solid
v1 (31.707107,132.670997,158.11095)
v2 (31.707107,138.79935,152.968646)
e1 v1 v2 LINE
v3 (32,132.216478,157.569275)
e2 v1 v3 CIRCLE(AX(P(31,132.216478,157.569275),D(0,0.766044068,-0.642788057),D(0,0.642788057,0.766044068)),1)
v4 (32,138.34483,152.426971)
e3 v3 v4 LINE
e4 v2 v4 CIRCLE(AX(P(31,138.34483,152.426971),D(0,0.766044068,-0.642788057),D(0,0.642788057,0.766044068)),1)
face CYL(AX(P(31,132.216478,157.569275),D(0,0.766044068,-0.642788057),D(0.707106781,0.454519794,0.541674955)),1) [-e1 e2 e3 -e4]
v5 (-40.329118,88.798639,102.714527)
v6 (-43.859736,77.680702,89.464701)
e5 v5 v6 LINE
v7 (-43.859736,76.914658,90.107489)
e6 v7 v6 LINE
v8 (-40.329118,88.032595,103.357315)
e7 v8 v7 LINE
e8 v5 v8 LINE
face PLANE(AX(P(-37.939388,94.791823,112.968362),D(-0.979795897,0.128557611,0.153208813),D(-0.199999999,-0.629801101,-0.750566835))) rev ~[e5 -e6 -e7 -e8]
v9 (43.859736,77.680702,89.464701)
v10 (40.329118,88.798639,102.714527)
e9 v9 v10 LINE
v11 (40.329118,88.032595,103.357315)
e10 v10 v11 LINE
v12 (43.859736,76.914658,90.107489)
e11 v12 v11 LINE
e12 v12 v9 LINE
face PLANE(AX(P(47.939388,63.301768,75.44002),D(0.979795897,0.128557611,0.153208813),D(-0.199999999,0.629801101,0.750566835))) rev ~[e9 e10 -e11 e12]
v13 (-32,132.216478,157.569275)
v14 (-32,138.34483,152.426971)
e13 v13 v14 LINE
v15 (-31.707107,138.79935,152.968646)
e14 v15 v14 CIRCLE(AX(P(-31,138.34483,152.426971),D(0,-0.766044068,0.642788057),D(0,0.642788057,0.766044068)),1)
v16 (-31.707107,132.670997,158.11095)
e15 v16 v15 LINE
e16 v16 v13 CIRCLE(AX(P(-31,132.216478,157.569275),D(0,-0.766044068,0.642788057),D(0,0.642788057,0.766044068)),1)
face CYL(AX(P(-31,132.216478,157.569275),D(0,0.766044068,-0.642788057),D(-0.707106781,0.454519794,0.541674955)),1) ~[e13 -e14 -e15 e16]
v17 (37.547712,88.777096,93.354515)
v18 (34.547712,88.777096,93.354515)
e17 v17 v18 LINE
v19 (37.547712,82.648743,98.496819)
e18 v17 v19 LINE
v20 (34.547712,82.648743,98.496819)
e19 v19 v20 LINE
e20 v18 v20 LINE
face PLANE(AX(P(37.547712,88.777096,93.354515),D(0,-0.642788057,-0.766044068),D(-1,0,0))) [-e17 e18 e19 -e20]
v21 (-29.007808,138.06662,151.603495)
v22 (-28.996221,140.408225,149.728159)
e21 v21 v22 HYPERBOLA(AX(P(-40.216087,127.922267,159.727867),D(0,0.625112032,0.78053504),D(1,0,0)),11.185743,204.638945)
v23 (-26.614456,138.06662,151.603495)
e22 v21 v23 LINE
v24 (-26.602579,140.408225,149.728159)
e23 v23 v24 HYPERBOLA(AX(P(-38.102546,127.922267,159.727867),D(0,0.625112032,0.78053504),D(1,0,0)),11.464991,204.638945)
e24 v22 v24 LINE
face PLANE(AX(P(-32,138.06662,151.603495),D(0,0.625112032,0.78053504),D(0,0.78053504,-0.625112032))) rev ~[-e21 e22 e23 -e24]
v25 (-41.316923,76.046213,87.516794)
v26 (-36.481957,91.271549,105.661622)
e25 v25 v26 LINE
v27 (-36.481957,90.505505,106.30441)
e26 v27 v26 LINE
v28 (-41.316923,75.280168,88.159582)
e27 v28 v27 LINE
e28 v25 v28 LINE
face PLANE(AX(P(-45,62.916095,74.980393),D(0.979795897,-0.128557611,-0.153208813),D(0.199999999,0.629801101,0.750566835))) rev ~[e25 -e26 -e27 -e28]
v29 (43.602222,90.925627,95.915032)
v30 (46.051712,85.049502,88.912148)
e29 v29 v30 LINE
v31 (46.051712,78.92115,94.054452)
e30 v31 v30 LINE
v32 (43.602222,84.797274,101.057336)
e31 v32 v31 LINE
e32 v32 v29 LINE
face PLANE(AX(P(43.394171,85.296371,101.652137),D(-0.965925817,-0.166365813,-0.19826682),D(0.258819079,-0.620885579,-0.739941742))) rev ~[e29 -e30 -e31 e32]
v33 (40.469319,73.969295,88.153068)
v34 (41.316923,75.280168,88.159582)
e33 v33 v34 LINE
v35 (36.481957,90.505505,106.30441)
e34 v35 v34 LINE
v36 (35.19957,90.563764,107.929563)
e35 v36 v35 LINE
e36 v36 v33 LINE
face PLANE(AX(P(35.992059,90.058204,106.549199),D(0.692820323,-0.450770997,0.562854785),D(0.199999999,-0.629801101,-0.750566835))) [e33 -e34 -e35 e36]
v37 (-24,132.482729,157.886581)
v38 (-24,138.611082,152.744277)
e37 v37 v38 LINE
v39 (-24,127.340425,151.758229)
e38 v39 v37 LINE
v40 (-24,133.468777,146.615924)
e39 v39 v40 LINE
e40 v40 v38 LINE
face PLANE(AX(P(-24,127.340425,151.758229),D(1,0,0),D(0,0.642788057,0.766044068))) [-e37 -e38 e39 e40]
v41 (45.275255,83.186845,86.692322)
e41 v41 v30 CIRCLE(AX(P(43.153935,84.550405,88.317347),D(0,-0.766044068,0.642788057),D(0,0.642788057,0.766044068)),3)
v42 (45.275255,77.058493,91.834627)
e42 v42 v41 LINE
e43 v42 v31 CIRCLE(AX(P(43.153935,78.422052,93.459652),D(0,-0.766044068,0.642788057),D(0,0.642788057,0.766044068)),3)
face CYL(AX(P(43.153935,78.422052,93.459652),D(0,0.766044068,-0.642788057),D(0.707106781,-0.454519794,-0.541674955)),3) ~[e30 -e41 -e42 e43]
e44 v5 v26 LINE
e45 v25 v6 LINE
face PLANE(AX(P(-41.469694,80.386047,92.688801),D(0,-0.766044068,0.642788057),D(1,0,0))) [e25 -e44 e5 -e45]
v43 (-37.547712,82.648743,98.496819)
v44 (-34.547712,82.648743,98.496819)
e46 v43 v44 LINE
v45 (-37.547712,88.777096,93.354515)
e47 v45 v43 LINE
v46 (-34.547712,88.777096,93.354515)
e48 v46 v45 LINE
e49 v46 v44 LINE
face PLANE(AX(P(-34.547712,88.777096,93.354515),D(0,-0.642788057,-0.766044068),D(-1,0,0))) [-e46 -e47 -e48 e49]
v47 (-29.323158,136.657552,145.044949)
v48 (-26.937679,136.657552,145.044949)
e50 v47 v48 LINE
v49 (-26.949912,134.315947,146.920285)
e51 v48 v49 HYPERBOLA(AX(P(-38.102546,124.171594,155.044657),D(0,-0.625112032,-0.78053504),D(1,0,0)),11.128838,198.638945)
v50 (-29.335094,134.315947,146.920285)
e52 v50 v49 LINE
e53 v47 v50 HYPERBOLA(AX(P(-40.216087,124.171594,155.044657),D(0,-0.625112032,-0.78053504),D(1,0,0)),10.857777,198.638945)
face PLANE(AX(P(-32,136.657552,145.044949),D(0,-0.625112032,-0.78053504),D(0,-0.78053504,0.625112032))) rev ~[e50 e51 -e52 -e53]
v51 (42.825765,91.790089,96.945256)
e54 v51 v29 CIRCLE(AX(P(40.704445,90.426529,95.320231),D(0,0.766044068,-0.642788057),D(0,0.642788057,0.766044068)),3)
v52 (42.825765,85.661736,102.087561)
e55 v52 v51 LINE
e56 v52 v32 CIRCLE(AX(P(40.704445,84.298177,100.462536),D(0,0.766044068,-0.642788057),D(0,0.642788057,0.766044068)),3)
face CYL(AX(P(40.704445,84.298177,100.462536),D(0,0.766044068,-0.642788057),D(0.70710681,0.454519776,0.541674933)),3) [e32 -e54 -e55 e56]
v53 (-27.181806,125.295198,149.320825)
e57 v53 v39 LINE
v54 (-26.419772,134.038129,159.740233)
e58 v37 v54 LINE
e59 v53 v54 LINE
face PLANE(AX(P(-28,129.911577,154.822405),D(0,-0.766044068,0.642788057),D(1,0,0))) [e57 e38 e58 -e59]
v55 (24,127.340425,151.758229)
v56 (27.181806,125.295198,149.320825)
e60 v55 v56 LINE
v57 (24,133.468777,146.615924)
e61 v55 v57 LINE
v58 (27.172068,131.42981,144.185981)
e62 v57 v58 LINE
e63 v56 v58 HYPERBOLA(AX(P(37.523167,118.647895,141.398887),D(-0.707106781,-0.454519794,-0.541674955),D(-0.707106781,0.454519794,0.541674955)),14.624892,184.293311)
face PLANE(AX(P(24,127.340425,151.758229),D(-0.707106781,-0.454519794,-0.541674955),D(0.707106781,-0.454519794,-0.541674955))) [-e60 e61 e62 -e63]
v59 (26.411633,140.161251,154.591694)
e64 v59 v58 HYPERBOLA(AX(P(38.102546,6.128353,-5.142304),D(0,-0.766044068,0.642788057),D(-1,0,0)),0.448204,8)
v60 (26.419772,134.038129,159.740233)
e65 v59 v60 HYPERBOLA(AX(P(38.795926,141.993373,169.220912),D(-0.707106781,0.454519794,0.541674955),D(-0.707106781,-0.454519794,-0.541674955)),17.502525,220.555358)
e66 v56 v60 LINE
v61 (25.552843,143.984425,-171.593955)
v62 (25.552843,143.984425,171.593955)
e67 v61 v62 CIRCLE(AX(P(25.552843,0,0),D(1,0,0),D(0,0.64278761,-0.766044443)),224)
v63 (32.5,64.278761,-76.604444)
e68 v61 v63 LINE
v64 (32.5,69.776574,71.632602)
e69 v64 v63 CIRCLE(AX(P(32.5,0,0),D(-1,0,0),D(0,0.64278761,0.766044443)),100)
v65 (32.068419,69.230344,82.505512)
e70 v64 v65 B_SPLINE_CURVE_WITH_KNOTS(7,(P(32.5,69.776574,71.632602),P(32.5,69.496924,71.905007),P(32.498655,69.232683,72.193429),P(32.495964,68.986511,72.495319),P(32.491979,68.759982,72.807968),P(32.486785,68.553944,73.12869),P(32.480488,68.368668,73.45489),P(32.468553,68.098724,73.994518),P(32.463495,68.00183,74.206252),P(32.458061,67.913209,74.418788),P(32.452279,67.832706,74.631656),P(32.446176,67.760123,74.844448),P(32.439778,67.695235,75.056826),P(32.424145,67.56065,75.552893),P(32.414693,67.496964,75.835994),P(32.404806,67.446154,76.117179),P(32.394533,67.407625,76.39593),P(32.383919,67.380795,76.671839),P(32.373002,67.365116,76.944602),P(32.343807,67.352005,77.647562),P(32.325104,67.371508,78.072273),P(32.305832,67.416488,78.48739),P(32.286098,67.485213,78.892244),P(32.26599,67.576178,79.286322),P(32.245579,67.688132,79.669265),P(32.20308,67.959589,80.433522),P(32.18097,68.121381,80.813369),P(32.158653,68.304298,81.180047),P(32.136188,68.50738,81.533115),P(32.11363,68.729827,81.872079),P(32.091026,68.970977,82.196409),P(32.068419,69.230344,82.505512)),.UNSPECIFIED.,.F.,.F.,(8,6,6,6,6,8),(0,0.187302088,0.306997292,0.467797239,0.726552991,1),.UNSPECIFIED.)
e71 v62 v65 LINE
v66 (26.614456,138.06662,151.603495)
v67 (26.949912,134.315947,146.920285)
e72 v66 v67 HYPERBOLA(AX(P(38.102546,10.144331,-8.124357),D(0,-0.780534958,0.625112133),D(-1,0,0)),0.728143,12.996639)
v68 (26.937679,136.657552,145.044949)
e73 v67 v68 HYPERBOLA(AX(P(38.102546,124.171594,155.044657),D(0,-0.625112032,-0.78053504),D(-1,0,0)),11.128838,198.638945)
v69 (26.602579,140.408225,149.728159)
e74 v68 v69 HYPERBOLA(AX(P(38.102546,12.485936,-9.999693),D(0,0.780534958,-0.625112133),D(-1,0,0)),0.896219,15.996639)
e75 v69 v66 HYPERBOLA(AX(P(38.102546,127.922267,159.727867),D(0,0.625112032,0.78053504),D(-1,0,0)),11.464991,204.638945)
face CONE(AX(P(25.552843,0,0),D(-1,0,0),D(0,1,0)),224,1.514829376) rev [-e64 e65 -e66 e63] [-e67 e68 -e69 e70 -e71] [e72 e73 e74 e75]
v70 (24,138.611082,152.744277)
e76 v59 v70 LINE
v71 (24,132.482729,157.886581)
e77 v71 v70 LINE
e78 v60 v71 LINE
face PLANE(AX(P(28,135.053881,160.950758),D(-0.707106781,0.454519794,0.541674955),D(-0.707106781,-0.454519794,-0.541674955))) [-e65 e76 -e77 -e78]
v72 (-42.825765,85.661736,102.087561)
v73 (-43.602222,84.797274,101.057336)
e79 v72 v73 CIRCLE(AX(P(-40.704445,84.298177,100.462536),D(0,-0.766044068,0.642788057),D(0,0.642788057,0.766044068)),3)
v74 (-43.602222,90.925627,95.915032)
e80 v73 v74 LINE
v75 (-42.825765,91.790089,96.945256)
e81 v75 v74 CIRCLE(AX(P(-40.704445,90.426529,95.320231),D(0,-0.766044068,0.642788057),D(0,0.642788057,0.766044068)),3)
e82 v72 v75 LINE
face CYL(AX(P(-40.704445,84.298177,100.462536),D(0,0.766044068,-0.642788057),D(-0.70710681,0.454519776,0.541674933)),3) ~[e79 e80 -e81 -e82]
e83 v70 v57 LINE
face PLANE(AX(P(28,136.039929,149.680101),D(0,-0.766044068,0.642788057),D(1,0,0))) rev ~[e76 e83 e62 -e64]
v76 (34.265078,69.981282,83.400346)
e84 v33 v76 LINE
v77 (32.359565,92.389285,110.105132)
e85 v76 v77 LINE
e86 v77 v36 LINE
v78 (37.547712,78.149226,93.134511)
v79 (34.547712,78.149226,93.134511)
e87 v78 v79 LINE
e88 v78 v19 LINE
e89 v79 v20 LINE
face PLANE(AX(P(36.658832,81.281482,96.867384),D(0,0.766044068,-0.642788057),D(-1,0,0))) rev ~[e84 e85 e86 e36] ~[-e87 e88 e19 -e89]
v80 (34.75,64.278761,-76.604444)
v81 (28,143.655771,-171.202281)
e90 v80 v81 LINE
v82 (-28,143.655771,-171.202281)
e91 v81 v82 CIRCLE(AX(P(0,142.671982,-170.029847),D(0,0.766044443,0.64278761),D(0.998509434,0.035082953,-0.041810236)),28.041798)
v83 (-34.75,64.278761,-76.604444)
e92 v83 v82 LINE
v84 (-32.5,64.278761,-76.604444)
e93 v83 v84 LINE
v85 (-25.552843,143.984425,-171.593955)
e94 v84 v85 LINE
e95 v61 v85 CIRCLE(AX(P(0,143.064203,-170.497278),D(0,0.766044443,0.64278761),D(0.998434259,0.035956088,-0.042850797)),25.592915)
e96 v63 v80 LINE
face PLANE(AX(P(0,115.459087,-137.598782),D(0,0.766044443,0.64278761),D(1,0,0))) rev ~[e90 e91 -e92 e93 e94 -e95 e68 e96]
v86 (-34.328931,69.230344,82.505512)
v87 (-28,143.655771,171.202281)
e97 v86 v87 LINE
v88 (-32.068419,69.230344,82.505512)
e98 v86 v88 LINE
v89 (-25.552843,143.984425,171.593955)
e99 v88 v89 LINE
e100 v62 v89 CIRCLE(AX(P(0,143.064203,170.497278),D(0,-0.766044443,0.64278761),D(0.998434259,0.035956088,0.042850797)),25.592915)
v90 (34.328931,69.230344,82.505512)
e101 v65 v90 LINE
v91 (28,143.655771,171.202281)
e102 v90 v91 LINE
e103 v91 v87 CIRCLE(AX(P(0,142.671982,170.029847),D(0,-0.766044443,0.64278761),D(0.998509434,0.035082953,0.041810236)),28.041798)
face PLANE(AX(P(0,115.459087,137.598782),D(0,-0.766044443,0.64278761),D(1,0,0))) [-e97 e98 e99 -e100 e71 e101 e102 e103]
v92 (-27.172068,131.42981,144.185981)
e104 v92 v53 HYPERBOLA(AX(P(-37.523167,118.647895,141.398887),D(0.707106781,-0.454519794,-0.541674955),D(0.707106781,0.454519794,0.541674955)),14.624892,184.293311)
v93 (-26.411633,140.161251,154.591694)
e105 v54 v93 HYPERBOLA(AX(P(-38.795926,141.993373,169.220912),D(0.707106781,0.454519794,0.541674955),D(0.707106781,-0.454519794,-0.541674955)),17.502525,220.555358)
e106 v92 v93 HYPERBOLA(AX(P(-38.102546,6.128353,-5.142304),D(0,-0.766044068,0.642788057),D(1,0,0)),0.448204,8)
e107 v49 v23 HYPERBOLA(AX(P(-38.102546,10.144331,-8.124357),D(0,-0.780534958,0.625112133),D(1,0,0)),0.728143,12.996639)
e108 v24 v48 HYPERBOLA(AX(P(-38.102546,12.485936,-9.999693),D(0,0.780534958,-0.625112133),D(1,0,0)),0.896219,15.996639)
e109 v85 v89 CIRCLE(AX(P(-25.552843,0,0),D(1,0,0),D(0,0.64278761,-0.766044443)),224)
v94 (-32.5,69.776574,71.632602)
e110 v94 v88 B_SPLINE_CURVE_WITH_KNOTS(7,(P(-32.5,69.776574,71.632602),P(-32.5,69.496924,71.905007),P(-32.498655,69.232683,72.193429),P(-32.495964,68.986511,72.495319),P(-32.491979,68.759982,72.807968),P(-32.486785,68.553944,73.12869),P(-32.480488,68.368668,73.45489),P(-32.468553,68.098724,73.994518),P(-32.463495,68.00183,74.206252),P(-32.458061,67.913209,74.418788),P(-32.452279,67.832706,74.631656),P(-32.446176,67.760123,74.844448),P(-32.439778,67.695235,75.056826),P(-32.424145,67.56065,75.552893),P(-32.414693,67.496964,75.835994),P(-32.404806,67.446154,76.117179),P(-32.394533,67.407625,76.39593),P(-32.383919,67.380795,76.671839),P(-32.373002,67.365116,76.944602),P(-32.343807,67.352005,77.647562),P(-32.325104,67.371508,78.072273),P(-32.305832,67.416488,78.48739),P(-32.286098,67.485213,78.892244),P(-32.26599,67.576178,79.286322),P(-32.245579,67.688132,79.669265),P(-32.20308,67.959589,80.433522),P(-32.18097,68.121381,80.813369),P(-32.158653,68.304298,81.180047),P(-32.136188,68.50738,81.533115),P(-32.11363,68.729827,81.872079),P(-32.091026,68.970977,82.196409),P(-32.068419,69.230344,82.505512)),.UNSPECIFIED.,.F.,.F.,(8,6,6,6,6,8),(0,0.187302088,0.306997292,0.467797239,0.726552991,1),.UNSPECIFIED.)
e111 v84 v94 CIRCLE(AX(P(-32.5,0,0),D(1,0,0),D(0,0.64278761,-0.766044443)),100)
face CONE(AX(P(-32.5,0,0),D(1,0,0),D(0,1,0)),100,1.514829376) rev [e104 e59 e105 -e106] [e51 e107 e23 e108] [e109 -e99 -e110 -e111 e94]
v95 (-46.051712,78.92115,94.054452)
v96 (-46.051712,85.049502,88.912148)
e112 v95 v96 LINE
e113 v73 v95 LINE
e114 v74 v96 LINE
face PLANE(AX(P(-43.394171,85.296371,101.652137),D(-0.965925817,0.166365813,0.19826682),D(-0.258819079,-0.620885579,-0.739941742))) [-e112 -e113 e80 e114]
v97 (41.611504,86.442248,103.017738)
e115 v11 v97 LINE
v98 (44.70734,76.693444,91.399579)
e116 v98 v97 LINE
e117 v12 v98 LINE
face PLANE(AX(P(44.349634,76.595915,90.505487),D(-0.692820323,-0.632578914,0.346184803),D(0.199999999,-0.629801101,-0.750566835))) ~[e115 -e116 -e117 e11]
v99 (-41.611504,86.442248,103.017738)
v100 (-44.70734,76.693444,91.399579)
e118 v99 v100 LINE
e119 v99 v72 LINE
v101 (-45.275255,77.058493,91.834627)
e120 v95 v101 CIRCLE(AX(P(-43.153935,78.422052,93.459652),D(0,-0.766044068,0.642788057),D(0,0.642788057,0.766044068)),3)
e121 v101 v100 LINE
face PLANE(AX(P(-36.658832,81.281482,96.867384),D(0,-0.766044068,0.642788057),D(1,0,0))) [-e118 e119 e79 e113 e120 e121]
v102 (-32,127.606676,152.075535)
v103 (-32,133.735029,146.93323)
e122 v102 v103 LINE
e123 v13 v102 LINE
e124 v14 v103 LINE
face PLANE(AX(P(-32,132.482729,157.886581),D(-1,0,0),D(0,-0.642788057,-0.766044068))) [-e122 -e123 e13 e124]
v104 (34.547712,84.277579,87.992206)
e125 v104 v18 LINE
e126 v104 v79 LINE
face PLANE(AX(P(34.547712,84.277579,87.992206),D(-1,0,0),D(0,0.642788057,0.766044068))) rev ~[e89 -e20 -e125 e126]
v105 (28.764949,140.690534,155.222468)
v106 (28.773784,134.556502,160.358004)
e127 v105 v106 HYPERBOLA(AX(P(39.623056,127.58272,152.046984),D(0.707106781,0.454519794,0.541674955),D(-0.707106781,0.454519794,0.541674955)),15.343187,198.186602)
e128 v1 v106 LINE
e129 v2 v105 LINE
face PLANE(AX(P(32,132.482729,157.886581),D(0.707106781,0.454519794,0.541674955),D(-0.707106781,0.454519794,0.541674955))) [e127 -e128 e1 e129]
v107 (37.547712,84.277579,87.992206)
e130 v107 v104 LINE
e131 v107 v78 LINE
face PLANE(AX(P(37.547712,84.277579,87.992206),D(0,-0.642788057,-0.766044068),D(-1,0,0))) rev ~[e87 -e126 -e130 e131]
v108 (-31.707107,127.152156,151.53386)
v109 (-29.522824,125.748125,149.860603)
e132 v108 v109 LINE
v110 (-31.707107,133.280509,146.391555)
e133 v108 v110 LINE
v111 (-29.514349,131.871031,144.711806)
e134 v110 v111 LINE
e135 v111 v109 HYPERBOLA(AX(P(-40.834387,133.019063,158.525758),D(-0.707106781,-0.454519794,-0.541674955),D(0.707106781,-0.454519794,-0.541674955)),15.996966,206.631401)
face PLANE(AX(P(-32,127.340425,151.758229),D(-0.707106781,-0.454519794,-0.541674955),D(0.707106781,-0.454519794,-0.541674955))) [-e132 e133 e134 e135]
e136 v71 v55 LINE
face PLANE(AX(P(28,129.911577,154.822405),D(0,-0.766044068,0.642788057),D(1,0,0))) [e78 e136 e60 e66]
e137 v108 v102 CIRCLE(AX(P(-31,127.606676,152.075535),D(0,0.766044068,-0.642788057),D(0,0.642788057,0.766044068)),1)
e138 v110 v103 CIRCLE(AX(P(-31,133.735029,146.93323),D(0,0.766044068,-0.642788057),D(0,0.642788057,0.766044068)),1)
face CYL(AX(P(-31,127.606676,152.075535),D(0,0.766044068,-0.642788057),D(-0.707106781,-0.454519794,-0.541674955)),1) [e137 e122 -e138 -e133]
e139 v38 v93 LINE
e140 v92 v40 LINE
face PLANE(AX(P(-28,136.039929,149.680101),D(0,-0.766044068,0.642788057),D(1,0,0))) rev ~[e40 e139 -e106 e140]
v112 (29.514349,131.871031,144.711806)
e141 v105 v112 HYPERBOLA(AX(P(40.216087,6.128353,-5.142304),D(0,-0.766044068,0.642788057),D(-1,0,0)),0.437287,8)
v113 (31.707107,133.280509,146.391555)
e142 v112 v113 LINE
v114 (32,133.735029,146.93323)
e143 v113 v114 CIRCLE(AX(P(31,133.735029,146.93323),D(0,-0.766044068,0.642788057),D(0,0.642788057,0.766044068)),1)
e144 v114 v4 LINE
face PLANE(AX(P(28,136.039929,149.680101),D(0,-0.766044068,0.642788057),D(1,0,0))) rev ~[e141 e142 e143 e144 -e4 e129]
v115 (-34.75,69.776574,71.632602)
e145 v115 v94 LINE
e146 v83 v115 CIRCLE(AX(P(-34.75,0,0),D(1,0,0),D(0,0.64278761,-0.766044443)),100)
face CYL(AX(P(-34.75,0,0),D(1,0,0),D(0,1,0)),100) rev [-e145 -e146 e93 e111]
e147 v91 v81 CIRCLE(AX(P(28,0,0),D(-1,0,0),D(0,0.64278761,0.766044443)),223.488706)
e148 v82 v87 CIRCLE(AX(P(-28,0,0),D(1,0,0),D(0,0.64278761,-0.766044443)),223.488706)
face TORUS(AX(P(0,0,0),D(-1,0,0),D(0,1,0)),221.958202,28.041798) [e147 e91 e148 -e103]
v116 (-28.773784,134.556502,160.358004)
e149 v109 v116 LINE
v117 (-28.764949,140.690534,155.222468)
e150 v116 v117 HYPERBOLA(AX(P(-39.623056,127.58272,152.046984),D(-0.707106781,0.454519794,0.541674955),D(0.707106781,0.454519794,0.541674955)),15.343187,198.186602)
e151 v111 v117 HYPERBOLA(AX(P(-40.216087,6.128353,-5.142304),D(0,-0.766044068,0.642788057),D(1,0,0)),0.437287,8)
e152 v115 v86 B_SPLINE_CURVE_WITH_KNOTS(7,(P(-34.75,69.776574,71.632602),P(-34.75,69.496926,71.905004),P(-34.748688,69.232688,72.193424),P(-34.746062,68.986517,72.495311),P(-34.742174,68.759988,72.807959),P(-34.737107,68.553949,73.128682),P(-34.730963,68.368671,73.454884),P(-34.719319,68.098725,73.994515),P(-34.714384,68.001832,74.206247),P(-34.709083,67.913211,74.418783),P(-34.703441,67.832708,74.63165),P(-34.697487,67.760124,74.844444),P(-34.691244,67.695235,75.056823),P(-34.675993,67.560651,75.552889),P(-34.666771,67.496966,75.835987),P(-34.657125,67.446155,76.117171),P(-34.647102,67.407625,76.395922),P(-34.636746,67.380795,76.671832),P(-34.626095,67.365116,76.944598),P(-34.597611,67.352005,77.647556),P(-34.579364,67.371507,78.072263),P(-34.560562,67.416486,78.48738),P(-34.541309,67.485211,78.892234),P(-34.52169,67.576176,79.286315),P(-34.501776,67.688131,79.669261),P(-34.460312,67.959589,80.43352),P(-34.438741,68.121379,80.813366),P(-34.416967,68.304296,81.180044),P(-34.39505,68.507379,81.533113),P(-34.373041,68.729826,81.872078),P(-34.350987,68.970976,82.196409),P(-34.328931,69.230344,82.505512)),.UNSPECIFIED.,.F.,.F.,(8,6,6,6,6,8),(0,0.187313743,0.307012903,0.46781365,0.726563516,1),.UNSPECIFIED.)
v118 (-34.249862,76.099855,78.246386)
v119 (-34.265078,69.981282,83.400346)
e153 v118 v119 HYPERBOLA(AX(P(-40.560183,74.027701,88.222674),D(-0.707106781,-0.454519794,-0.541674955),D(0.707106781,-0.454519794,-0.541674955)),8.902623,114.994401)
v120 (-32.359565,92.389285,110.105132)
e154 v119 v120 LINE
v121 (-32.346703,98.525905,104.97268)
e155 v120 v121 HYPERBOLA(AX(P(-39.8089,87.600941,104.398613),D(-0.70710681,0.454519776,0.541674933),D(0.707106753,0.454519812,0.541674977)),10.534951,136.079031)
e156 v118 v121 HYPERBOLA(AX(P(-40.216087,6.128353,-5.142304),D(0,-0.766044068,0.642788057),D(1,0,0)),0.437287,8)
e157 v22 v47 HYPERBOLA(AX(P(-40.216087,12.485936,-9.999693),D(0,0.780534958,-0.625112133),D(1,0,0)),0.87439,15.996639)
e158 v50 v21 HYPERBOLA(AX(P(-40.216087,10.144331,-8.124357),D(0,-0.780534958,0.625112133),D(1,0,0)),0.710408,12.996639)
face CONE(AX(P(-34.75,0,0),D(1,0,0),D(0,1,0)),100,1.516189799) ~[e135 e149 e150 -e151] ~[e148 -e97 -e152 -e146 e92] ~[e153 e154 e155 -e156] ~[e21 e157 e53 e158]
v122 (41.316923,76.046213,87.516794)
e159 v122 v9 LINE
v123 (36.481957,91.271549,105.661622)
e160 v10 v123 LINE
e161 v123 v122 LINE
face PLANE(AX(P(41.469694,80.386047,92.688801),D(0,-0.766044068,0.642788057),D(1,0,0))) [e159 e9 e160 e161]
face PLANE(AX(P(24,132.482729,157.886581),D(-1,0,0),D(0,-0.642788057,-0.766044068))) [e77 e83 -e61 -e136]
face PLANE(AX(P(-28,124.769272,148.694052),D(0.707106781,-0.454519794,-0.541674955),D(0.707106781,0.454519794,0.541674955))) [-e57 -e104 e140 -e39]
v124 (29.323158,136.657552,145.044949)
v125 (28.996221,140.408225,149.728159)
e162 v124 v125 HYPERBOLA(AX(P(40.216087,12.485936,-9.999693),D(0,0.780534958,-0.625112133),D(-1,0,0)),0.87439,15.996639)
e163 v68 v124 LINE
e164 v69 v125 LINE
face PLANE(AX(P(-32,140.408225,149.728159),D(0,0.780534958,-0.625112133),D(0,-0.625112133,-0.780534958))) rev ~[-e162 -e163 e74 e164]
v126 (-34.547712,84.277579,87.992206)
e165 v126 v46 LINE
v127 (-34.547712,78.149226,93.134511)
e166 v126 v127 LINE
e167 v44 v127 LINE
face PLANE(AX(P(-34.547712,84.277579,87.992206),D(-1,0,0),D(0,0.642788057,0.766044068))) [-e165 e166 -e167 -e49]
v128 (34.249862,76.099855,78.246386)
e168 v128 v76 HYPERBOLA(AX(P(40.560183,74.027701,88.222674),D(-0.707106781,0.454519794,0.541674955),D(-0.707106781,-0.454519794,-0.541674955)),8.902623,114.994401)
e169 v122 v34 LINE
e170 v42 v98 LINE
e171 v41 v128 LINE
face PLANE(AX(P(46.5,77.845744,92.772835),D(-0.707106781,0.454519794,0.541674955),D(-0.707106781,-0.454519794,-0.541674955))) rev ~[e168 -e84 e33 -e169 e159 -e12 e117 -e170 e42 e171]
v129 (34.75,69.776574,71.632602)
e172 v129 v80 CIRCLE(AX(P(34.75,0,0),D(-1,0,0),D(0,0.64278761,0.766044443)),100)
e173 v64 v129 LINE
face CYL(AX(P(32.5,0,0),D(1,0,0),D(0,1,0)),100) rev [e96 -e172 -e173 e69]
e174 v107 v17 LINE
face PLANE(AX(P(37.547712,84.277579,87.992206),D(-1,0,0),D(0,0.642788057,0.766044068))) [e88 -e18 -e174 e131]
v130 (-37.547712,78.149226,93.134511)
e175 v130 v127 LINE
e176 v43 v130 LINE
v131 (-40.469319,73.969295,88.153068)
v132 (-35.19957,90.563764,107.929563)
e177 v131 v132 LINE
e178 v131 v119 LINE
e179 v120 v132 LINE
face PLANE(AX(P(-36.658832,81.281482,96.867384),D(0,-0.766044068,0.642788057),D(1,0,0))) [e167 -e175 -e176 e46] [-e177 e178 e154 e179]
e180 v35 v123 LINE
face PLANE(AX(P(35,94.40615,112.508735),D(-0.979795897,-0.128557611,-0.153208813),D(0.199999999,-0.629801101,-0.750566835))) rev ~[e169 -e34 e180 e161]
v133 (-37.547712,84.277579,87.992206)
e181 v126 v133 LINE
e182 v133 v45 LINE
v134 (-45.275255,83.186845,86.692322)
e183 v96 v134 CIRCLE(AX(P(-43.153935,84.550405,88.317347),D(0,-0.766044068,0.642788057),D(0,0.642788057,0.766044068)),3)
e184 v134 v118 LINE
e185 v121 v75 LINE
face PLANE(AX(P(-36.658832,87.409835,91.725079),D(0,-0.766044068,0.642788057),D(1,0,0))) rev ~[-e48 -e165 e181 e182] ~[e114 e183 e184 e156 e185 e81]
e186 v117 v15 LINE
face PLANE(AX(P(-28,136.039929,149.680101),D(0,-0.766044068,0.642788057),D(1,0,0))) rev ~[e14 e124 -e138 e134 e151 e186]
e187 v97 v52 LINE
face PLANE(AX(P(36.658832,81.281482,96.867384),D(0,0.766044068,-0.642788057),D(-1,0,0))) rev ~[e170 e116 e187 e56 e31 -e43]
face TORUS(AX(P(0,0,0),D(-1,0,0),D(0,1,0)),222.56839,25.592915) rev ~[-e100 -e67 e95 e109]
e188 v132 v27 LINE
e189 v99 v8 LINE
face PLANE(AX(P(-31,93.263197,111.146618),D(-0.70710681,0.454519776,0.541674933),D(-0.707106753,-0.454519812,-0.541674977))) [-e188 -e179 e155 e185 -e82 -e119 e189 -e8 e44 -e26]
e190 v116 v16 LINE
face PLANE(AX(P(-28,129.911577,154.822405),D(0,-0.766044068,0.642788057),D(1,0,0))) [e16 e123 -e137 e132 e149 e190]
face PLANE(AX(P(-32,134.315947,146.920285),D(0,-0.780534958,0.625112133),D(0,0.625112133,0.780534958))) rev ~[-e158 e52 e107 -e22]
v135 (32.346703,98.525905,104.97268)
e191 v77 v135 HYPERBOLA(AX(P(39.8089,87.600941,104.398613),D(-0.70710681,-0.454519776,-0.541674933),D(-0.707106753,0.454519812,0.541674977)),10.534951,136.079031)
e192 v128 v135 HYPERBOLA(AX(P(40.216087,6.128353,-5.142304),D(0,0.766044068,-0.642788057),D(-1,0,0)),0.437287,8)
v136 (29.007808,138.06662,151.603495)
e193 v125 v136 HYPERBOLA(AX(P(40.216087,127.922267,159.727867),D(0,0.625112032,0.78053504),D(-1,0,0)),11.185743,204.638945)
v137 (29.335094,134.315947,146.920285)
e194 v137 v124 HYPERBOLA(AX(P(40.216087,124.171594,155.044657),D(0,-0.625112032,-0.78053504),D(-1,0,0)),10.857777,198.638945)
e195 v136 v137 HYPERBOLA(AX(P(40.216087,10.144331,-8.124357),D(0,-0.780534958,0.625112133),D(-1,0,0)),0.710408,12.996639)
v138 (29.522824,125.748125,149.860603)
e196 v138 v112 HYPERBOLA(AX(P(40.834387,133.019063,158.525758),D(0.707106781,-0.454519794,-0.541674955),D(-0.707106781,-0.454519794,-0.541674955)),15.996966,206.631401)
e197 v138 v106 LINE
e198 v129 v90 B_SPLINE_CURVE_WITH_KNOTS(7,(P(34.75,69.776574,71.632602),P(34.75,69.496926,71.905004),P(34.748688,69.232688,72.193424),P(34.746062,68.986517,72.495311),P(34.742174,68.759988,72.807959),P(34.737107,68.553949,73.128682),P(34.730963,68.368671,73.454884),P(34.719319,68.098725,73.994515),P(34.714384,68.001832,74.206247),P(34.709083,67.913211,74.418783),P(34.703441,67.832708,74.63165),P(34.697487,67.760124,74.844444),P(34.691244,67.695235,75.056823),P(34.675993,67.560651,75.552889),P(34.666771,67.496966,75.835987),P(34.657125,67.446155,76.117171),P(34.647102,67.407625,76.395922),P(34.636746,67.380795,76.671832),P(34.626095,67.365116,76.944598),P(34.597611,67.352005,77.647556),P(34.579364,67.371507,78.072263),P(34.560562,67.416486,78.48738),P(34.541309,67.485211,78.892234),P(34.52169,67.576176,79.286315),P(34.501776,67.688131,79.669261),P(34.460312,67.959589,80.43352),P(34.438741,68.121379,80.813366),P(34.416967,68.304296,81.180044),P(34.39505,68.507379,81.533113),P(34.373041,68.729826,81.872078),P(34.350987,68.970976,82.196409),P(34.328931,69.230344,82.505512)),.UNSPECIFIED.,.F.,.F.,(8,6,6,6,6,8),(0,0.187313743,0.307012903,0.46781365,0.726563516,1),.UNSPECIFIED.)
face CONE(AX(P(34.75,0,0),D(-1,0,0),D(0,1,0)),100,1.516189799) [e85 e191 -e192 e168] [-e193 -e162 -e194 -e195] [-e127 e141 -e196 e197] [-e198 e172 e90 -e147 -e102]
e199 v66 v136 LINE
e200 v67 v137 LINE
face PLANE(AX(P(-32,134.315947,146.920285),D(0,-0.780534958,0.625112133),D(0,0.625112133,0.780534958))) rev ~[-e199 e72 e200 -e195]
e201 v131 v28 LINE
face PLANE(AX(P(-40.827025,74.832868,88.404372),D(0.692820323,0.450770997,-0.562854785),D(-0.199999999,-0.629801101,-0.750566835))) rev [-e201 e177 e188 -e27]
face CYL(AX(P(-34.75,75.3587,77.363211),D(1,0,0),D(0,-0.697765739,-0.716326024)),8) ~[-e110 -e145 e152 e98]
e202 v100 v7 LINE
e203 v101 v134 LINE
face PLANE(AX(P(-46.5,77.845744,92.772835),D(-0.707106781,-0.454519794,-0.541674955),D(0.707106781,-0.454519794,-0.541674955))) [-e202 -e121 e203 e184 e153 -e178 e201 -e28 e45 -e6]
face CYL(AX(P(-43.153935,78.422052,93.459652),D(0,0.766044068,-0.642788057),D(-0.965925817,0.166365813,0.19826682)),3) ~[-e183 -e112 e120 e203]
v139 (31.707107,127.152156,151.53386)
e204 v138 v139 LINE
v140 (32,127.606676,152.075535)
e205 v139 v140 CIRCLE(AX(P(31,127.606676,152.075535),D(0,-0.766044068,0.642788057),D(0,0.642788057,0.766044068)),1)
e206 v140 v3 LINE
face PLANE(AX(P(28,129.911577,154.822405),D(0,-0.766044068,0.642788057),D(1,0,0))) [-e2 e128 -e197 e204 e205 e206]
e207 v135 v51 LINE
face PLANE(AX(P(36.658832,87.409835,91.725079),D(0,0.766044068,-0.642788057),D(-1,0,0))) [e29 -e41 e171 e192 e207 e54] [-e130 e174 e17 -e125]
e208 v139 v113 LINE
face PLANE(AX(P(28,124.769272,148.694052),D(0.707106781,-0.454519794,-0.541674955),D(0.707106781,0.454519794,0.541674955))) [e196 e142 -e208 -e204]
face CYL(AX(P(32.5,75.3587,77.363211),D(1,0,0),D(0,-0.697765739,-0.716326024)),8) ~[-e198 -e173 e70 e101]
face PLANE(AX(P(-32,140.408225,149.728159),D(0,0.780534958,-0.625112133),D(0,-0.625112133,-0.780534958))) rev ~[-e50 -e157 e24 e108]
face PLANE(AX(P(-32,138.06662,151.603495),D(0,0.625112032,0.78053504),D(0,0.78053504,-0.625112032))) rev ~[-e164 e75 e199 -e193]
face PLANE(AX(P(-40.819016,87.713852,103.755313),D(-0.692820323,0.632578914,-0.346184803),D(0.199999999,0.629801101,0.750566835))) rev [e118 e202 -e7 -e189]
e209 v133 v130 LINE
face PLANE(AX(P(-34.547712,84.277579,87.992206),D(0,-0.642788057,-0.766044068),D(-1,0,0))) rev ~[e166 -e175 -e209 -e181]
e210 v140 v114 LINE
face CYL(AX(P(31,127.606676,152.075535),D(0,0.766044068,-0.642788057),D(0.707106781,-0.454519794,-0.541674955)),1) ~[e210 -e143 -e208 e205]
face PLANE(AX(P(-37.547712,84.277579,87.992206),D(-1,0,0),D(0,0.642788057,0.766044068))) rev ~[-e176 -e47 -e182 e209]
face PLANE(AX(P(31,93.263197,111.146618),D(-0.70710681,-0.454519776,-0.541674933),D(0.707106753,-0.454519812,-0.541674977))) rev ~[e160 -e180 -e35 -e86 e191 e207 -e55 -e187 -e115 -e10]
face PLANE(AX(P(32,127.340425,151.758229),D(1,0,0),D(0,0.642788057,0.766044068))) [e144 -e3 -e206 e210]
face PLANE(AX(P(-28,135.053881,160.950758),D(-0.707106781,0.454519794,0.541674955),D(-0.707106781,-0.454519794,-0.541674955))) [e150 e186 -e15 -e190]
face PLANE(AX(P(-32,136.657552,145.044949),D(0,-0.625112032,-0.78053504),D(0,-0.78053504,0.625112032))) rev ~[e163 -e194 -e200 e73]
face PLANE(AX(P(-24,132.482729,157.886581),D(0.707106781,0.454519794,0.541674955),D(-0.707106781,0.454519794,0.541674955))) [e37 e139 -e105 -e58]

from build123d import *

# Parameters (mm, degrees)
REVOLUTION_ANGLE = 100
FILLET_R         = 8
PAD_DEPTH        = 8
POCKET_DEPTH     = 2
CHAMFER_SIZE     = 1
SKETCH005_W      = 3
SKETCH005_H      = 7
POCKET001_DEPTH  = 81.861582
POCKET002_DEPTH  = 78.501
FILLET001_R      = 3
FILLET002_R      = 1


with BuildPart() as part:
    # Sketch → Revolution (revolve, symmetric)
    with BuildSketch(Plane.XY) as revolution_sk:
        with BuildLine():
            ThreePointArc((28, 223.488706), (0, 250), (-28, 223.488706))
            Line((-34.75, 100), (-28, 223.488706))
            Line((-34.75, 100), (-32.5, 100))
            Line((-32.5, 100), (-25.552843, 224))
            ThreePointArc((25.552843, 224), (0, 248.161305), (-25.552843, 224))
            Line((25.552843, 224), (32.5, 100))
            Line((32.5, 100), (34.75, 100))
            Line((34.75, 100), (28, 223.488706))
        make_face()
    revolve(axis=Axis((0, 0, 0), (1, 0, 0)), revolution_arc=REVOLUTION_ANGLE / 2)
    revolve(revolution_sk.sketch, axis=Axis((0, 0, 0), (-1, 0, 0)), revolution_arc=REVOLUTION_ANGLE / 2)

    # Fillet
    fillet_edges = [part.edges().sort_by_distance(p)[0] for p in [
        (33.625, 64.278761, 76.604444),
        (-33.625, 64.278761, 76.604444),
    ]]
    fillet(fillet_edges, radius=FILLET_R)

    # Sketch002 (on Face5 of Fillet) → Pad (new body)
    with BuildSketch(Plane(origin=(0, 0, 0), x_dir=(1, 0, 0), z_dir=(0, -0.766044, 0.642788))):
        Polygon((-43.394171, 132.697505), (-46.5, 121.106395), (-33.248819, 107.855214), (-31, 145.091677), align=None)
        Polygon((43.394171, 132.697505), (46.5, 121.106395), (33.248819, 107.855214), (31, 145.091677), align=None)
        Polygon((28, 194.106395), (32, 198.106395), (32, 206.106395), (28, 210.106395), (24, 206.106395), (24, 198.106395), align=None)
        Polygon((-28, 194.106395), (-24, 198.106395), (-24, 206.106395), (-28, 210.106395), (-32, 206.106395), (-32, 198.106395), align=None)
    extrude(amount=-PAD_DEPTH)

    # Sketch003 (on Face47 of Pad) → Pocket (cut)
    with BuildSketch(Plane(origin=(0, 0, 0), x_dir=(1, 0, 0), z_dir=(0, -0.766044, 0.642788))):
        Polygon((35, 146.869795), (45, 97.88), (47.939388, 98.48), (37.939388, 147.469795), align=None)
        Polygon((-47.939388, 98.48), (-45, 97.88), (-35, 146.869795), (-37.939388, 147.469795), align=None)
    extrude(amount=-POCKET_DEPTH, mode=Mode.SUBTRACT)

    # Chamfer
    chamfer_edges = [part.edges().sort_by_distance(p)[0] for p in [
        (42.094426, 81.707526, 97.375238),
        (38.89944, 82.126736, 97.874832),
        (-38.89944, 82.126736, 97.874832),
        (-42.094426, 81.707526, 97.375238),
    ]]
    chamfer(chamfer_edges, length=CHAMFER_SIZE)

    # Sketch005 (on Face6 of Chamfer) → Pocket001 (cut, through all)
    with BuildSketch(Plane(origin=(0, 6.128356, -5.142301), x_dir=(-1, 0, 0), z_dir=(0, 0.766044, -0.642788))):
        with Locations((-36.047712, 125.078524)):
            Rectangle(SKETCH005_W, SKETCH005_H)
        with Locations((36.047712, 125.078524)):
            Rectangle(SKETCH005_W, SKETCH005_H)
    extrude(amount=-POCKET001_DEPTH, mode=Mode.SUBTRACT)

    # Sketch006 (on Face54 of Pocket001) → Pocket002 (cut, through all)
    with BuildSketch(Plane(origin=(-32, 0, 0), x_dir=(0, -1, 0), z_dir=(-1, 0, 0))):
        Polygon((-140.408225, 149.728159), (-136.657552, 145.044949), (-134.315947, 146.920285), (-138.06662, 151.603495), align=None)
    extrude(amount=-POCKET002_DEPTH, mode=Mode.SUBTRACT)

    # Fillet001
    fillet001_edges = [part.edges().sort_by_distance(p)[0] for p in [
        (46.5, 80.909868, 90.201731),
        (43.394171, 88.36049, 99.081036),
        (-43.394171, 88.36049, 99.081036),
        (-46.5, 80.909868, 90.201731),
    ]]
    fillet(fillet001_edges, radius=FILLET001_R)

    # Fillet002
    fillet002_edges = [part.edges().sort_by_distance(p)[0] for p in [
        (32, 135.546815, 155.315508),
        (32, 130.404514, 149.187153),
        (-32, 130.404514, 149.187153),
        (-32, 135.546815, 155.315508),
    ]]
    fillet(fillet002_edges, radius=FILLET002_R)


solid = part.part
